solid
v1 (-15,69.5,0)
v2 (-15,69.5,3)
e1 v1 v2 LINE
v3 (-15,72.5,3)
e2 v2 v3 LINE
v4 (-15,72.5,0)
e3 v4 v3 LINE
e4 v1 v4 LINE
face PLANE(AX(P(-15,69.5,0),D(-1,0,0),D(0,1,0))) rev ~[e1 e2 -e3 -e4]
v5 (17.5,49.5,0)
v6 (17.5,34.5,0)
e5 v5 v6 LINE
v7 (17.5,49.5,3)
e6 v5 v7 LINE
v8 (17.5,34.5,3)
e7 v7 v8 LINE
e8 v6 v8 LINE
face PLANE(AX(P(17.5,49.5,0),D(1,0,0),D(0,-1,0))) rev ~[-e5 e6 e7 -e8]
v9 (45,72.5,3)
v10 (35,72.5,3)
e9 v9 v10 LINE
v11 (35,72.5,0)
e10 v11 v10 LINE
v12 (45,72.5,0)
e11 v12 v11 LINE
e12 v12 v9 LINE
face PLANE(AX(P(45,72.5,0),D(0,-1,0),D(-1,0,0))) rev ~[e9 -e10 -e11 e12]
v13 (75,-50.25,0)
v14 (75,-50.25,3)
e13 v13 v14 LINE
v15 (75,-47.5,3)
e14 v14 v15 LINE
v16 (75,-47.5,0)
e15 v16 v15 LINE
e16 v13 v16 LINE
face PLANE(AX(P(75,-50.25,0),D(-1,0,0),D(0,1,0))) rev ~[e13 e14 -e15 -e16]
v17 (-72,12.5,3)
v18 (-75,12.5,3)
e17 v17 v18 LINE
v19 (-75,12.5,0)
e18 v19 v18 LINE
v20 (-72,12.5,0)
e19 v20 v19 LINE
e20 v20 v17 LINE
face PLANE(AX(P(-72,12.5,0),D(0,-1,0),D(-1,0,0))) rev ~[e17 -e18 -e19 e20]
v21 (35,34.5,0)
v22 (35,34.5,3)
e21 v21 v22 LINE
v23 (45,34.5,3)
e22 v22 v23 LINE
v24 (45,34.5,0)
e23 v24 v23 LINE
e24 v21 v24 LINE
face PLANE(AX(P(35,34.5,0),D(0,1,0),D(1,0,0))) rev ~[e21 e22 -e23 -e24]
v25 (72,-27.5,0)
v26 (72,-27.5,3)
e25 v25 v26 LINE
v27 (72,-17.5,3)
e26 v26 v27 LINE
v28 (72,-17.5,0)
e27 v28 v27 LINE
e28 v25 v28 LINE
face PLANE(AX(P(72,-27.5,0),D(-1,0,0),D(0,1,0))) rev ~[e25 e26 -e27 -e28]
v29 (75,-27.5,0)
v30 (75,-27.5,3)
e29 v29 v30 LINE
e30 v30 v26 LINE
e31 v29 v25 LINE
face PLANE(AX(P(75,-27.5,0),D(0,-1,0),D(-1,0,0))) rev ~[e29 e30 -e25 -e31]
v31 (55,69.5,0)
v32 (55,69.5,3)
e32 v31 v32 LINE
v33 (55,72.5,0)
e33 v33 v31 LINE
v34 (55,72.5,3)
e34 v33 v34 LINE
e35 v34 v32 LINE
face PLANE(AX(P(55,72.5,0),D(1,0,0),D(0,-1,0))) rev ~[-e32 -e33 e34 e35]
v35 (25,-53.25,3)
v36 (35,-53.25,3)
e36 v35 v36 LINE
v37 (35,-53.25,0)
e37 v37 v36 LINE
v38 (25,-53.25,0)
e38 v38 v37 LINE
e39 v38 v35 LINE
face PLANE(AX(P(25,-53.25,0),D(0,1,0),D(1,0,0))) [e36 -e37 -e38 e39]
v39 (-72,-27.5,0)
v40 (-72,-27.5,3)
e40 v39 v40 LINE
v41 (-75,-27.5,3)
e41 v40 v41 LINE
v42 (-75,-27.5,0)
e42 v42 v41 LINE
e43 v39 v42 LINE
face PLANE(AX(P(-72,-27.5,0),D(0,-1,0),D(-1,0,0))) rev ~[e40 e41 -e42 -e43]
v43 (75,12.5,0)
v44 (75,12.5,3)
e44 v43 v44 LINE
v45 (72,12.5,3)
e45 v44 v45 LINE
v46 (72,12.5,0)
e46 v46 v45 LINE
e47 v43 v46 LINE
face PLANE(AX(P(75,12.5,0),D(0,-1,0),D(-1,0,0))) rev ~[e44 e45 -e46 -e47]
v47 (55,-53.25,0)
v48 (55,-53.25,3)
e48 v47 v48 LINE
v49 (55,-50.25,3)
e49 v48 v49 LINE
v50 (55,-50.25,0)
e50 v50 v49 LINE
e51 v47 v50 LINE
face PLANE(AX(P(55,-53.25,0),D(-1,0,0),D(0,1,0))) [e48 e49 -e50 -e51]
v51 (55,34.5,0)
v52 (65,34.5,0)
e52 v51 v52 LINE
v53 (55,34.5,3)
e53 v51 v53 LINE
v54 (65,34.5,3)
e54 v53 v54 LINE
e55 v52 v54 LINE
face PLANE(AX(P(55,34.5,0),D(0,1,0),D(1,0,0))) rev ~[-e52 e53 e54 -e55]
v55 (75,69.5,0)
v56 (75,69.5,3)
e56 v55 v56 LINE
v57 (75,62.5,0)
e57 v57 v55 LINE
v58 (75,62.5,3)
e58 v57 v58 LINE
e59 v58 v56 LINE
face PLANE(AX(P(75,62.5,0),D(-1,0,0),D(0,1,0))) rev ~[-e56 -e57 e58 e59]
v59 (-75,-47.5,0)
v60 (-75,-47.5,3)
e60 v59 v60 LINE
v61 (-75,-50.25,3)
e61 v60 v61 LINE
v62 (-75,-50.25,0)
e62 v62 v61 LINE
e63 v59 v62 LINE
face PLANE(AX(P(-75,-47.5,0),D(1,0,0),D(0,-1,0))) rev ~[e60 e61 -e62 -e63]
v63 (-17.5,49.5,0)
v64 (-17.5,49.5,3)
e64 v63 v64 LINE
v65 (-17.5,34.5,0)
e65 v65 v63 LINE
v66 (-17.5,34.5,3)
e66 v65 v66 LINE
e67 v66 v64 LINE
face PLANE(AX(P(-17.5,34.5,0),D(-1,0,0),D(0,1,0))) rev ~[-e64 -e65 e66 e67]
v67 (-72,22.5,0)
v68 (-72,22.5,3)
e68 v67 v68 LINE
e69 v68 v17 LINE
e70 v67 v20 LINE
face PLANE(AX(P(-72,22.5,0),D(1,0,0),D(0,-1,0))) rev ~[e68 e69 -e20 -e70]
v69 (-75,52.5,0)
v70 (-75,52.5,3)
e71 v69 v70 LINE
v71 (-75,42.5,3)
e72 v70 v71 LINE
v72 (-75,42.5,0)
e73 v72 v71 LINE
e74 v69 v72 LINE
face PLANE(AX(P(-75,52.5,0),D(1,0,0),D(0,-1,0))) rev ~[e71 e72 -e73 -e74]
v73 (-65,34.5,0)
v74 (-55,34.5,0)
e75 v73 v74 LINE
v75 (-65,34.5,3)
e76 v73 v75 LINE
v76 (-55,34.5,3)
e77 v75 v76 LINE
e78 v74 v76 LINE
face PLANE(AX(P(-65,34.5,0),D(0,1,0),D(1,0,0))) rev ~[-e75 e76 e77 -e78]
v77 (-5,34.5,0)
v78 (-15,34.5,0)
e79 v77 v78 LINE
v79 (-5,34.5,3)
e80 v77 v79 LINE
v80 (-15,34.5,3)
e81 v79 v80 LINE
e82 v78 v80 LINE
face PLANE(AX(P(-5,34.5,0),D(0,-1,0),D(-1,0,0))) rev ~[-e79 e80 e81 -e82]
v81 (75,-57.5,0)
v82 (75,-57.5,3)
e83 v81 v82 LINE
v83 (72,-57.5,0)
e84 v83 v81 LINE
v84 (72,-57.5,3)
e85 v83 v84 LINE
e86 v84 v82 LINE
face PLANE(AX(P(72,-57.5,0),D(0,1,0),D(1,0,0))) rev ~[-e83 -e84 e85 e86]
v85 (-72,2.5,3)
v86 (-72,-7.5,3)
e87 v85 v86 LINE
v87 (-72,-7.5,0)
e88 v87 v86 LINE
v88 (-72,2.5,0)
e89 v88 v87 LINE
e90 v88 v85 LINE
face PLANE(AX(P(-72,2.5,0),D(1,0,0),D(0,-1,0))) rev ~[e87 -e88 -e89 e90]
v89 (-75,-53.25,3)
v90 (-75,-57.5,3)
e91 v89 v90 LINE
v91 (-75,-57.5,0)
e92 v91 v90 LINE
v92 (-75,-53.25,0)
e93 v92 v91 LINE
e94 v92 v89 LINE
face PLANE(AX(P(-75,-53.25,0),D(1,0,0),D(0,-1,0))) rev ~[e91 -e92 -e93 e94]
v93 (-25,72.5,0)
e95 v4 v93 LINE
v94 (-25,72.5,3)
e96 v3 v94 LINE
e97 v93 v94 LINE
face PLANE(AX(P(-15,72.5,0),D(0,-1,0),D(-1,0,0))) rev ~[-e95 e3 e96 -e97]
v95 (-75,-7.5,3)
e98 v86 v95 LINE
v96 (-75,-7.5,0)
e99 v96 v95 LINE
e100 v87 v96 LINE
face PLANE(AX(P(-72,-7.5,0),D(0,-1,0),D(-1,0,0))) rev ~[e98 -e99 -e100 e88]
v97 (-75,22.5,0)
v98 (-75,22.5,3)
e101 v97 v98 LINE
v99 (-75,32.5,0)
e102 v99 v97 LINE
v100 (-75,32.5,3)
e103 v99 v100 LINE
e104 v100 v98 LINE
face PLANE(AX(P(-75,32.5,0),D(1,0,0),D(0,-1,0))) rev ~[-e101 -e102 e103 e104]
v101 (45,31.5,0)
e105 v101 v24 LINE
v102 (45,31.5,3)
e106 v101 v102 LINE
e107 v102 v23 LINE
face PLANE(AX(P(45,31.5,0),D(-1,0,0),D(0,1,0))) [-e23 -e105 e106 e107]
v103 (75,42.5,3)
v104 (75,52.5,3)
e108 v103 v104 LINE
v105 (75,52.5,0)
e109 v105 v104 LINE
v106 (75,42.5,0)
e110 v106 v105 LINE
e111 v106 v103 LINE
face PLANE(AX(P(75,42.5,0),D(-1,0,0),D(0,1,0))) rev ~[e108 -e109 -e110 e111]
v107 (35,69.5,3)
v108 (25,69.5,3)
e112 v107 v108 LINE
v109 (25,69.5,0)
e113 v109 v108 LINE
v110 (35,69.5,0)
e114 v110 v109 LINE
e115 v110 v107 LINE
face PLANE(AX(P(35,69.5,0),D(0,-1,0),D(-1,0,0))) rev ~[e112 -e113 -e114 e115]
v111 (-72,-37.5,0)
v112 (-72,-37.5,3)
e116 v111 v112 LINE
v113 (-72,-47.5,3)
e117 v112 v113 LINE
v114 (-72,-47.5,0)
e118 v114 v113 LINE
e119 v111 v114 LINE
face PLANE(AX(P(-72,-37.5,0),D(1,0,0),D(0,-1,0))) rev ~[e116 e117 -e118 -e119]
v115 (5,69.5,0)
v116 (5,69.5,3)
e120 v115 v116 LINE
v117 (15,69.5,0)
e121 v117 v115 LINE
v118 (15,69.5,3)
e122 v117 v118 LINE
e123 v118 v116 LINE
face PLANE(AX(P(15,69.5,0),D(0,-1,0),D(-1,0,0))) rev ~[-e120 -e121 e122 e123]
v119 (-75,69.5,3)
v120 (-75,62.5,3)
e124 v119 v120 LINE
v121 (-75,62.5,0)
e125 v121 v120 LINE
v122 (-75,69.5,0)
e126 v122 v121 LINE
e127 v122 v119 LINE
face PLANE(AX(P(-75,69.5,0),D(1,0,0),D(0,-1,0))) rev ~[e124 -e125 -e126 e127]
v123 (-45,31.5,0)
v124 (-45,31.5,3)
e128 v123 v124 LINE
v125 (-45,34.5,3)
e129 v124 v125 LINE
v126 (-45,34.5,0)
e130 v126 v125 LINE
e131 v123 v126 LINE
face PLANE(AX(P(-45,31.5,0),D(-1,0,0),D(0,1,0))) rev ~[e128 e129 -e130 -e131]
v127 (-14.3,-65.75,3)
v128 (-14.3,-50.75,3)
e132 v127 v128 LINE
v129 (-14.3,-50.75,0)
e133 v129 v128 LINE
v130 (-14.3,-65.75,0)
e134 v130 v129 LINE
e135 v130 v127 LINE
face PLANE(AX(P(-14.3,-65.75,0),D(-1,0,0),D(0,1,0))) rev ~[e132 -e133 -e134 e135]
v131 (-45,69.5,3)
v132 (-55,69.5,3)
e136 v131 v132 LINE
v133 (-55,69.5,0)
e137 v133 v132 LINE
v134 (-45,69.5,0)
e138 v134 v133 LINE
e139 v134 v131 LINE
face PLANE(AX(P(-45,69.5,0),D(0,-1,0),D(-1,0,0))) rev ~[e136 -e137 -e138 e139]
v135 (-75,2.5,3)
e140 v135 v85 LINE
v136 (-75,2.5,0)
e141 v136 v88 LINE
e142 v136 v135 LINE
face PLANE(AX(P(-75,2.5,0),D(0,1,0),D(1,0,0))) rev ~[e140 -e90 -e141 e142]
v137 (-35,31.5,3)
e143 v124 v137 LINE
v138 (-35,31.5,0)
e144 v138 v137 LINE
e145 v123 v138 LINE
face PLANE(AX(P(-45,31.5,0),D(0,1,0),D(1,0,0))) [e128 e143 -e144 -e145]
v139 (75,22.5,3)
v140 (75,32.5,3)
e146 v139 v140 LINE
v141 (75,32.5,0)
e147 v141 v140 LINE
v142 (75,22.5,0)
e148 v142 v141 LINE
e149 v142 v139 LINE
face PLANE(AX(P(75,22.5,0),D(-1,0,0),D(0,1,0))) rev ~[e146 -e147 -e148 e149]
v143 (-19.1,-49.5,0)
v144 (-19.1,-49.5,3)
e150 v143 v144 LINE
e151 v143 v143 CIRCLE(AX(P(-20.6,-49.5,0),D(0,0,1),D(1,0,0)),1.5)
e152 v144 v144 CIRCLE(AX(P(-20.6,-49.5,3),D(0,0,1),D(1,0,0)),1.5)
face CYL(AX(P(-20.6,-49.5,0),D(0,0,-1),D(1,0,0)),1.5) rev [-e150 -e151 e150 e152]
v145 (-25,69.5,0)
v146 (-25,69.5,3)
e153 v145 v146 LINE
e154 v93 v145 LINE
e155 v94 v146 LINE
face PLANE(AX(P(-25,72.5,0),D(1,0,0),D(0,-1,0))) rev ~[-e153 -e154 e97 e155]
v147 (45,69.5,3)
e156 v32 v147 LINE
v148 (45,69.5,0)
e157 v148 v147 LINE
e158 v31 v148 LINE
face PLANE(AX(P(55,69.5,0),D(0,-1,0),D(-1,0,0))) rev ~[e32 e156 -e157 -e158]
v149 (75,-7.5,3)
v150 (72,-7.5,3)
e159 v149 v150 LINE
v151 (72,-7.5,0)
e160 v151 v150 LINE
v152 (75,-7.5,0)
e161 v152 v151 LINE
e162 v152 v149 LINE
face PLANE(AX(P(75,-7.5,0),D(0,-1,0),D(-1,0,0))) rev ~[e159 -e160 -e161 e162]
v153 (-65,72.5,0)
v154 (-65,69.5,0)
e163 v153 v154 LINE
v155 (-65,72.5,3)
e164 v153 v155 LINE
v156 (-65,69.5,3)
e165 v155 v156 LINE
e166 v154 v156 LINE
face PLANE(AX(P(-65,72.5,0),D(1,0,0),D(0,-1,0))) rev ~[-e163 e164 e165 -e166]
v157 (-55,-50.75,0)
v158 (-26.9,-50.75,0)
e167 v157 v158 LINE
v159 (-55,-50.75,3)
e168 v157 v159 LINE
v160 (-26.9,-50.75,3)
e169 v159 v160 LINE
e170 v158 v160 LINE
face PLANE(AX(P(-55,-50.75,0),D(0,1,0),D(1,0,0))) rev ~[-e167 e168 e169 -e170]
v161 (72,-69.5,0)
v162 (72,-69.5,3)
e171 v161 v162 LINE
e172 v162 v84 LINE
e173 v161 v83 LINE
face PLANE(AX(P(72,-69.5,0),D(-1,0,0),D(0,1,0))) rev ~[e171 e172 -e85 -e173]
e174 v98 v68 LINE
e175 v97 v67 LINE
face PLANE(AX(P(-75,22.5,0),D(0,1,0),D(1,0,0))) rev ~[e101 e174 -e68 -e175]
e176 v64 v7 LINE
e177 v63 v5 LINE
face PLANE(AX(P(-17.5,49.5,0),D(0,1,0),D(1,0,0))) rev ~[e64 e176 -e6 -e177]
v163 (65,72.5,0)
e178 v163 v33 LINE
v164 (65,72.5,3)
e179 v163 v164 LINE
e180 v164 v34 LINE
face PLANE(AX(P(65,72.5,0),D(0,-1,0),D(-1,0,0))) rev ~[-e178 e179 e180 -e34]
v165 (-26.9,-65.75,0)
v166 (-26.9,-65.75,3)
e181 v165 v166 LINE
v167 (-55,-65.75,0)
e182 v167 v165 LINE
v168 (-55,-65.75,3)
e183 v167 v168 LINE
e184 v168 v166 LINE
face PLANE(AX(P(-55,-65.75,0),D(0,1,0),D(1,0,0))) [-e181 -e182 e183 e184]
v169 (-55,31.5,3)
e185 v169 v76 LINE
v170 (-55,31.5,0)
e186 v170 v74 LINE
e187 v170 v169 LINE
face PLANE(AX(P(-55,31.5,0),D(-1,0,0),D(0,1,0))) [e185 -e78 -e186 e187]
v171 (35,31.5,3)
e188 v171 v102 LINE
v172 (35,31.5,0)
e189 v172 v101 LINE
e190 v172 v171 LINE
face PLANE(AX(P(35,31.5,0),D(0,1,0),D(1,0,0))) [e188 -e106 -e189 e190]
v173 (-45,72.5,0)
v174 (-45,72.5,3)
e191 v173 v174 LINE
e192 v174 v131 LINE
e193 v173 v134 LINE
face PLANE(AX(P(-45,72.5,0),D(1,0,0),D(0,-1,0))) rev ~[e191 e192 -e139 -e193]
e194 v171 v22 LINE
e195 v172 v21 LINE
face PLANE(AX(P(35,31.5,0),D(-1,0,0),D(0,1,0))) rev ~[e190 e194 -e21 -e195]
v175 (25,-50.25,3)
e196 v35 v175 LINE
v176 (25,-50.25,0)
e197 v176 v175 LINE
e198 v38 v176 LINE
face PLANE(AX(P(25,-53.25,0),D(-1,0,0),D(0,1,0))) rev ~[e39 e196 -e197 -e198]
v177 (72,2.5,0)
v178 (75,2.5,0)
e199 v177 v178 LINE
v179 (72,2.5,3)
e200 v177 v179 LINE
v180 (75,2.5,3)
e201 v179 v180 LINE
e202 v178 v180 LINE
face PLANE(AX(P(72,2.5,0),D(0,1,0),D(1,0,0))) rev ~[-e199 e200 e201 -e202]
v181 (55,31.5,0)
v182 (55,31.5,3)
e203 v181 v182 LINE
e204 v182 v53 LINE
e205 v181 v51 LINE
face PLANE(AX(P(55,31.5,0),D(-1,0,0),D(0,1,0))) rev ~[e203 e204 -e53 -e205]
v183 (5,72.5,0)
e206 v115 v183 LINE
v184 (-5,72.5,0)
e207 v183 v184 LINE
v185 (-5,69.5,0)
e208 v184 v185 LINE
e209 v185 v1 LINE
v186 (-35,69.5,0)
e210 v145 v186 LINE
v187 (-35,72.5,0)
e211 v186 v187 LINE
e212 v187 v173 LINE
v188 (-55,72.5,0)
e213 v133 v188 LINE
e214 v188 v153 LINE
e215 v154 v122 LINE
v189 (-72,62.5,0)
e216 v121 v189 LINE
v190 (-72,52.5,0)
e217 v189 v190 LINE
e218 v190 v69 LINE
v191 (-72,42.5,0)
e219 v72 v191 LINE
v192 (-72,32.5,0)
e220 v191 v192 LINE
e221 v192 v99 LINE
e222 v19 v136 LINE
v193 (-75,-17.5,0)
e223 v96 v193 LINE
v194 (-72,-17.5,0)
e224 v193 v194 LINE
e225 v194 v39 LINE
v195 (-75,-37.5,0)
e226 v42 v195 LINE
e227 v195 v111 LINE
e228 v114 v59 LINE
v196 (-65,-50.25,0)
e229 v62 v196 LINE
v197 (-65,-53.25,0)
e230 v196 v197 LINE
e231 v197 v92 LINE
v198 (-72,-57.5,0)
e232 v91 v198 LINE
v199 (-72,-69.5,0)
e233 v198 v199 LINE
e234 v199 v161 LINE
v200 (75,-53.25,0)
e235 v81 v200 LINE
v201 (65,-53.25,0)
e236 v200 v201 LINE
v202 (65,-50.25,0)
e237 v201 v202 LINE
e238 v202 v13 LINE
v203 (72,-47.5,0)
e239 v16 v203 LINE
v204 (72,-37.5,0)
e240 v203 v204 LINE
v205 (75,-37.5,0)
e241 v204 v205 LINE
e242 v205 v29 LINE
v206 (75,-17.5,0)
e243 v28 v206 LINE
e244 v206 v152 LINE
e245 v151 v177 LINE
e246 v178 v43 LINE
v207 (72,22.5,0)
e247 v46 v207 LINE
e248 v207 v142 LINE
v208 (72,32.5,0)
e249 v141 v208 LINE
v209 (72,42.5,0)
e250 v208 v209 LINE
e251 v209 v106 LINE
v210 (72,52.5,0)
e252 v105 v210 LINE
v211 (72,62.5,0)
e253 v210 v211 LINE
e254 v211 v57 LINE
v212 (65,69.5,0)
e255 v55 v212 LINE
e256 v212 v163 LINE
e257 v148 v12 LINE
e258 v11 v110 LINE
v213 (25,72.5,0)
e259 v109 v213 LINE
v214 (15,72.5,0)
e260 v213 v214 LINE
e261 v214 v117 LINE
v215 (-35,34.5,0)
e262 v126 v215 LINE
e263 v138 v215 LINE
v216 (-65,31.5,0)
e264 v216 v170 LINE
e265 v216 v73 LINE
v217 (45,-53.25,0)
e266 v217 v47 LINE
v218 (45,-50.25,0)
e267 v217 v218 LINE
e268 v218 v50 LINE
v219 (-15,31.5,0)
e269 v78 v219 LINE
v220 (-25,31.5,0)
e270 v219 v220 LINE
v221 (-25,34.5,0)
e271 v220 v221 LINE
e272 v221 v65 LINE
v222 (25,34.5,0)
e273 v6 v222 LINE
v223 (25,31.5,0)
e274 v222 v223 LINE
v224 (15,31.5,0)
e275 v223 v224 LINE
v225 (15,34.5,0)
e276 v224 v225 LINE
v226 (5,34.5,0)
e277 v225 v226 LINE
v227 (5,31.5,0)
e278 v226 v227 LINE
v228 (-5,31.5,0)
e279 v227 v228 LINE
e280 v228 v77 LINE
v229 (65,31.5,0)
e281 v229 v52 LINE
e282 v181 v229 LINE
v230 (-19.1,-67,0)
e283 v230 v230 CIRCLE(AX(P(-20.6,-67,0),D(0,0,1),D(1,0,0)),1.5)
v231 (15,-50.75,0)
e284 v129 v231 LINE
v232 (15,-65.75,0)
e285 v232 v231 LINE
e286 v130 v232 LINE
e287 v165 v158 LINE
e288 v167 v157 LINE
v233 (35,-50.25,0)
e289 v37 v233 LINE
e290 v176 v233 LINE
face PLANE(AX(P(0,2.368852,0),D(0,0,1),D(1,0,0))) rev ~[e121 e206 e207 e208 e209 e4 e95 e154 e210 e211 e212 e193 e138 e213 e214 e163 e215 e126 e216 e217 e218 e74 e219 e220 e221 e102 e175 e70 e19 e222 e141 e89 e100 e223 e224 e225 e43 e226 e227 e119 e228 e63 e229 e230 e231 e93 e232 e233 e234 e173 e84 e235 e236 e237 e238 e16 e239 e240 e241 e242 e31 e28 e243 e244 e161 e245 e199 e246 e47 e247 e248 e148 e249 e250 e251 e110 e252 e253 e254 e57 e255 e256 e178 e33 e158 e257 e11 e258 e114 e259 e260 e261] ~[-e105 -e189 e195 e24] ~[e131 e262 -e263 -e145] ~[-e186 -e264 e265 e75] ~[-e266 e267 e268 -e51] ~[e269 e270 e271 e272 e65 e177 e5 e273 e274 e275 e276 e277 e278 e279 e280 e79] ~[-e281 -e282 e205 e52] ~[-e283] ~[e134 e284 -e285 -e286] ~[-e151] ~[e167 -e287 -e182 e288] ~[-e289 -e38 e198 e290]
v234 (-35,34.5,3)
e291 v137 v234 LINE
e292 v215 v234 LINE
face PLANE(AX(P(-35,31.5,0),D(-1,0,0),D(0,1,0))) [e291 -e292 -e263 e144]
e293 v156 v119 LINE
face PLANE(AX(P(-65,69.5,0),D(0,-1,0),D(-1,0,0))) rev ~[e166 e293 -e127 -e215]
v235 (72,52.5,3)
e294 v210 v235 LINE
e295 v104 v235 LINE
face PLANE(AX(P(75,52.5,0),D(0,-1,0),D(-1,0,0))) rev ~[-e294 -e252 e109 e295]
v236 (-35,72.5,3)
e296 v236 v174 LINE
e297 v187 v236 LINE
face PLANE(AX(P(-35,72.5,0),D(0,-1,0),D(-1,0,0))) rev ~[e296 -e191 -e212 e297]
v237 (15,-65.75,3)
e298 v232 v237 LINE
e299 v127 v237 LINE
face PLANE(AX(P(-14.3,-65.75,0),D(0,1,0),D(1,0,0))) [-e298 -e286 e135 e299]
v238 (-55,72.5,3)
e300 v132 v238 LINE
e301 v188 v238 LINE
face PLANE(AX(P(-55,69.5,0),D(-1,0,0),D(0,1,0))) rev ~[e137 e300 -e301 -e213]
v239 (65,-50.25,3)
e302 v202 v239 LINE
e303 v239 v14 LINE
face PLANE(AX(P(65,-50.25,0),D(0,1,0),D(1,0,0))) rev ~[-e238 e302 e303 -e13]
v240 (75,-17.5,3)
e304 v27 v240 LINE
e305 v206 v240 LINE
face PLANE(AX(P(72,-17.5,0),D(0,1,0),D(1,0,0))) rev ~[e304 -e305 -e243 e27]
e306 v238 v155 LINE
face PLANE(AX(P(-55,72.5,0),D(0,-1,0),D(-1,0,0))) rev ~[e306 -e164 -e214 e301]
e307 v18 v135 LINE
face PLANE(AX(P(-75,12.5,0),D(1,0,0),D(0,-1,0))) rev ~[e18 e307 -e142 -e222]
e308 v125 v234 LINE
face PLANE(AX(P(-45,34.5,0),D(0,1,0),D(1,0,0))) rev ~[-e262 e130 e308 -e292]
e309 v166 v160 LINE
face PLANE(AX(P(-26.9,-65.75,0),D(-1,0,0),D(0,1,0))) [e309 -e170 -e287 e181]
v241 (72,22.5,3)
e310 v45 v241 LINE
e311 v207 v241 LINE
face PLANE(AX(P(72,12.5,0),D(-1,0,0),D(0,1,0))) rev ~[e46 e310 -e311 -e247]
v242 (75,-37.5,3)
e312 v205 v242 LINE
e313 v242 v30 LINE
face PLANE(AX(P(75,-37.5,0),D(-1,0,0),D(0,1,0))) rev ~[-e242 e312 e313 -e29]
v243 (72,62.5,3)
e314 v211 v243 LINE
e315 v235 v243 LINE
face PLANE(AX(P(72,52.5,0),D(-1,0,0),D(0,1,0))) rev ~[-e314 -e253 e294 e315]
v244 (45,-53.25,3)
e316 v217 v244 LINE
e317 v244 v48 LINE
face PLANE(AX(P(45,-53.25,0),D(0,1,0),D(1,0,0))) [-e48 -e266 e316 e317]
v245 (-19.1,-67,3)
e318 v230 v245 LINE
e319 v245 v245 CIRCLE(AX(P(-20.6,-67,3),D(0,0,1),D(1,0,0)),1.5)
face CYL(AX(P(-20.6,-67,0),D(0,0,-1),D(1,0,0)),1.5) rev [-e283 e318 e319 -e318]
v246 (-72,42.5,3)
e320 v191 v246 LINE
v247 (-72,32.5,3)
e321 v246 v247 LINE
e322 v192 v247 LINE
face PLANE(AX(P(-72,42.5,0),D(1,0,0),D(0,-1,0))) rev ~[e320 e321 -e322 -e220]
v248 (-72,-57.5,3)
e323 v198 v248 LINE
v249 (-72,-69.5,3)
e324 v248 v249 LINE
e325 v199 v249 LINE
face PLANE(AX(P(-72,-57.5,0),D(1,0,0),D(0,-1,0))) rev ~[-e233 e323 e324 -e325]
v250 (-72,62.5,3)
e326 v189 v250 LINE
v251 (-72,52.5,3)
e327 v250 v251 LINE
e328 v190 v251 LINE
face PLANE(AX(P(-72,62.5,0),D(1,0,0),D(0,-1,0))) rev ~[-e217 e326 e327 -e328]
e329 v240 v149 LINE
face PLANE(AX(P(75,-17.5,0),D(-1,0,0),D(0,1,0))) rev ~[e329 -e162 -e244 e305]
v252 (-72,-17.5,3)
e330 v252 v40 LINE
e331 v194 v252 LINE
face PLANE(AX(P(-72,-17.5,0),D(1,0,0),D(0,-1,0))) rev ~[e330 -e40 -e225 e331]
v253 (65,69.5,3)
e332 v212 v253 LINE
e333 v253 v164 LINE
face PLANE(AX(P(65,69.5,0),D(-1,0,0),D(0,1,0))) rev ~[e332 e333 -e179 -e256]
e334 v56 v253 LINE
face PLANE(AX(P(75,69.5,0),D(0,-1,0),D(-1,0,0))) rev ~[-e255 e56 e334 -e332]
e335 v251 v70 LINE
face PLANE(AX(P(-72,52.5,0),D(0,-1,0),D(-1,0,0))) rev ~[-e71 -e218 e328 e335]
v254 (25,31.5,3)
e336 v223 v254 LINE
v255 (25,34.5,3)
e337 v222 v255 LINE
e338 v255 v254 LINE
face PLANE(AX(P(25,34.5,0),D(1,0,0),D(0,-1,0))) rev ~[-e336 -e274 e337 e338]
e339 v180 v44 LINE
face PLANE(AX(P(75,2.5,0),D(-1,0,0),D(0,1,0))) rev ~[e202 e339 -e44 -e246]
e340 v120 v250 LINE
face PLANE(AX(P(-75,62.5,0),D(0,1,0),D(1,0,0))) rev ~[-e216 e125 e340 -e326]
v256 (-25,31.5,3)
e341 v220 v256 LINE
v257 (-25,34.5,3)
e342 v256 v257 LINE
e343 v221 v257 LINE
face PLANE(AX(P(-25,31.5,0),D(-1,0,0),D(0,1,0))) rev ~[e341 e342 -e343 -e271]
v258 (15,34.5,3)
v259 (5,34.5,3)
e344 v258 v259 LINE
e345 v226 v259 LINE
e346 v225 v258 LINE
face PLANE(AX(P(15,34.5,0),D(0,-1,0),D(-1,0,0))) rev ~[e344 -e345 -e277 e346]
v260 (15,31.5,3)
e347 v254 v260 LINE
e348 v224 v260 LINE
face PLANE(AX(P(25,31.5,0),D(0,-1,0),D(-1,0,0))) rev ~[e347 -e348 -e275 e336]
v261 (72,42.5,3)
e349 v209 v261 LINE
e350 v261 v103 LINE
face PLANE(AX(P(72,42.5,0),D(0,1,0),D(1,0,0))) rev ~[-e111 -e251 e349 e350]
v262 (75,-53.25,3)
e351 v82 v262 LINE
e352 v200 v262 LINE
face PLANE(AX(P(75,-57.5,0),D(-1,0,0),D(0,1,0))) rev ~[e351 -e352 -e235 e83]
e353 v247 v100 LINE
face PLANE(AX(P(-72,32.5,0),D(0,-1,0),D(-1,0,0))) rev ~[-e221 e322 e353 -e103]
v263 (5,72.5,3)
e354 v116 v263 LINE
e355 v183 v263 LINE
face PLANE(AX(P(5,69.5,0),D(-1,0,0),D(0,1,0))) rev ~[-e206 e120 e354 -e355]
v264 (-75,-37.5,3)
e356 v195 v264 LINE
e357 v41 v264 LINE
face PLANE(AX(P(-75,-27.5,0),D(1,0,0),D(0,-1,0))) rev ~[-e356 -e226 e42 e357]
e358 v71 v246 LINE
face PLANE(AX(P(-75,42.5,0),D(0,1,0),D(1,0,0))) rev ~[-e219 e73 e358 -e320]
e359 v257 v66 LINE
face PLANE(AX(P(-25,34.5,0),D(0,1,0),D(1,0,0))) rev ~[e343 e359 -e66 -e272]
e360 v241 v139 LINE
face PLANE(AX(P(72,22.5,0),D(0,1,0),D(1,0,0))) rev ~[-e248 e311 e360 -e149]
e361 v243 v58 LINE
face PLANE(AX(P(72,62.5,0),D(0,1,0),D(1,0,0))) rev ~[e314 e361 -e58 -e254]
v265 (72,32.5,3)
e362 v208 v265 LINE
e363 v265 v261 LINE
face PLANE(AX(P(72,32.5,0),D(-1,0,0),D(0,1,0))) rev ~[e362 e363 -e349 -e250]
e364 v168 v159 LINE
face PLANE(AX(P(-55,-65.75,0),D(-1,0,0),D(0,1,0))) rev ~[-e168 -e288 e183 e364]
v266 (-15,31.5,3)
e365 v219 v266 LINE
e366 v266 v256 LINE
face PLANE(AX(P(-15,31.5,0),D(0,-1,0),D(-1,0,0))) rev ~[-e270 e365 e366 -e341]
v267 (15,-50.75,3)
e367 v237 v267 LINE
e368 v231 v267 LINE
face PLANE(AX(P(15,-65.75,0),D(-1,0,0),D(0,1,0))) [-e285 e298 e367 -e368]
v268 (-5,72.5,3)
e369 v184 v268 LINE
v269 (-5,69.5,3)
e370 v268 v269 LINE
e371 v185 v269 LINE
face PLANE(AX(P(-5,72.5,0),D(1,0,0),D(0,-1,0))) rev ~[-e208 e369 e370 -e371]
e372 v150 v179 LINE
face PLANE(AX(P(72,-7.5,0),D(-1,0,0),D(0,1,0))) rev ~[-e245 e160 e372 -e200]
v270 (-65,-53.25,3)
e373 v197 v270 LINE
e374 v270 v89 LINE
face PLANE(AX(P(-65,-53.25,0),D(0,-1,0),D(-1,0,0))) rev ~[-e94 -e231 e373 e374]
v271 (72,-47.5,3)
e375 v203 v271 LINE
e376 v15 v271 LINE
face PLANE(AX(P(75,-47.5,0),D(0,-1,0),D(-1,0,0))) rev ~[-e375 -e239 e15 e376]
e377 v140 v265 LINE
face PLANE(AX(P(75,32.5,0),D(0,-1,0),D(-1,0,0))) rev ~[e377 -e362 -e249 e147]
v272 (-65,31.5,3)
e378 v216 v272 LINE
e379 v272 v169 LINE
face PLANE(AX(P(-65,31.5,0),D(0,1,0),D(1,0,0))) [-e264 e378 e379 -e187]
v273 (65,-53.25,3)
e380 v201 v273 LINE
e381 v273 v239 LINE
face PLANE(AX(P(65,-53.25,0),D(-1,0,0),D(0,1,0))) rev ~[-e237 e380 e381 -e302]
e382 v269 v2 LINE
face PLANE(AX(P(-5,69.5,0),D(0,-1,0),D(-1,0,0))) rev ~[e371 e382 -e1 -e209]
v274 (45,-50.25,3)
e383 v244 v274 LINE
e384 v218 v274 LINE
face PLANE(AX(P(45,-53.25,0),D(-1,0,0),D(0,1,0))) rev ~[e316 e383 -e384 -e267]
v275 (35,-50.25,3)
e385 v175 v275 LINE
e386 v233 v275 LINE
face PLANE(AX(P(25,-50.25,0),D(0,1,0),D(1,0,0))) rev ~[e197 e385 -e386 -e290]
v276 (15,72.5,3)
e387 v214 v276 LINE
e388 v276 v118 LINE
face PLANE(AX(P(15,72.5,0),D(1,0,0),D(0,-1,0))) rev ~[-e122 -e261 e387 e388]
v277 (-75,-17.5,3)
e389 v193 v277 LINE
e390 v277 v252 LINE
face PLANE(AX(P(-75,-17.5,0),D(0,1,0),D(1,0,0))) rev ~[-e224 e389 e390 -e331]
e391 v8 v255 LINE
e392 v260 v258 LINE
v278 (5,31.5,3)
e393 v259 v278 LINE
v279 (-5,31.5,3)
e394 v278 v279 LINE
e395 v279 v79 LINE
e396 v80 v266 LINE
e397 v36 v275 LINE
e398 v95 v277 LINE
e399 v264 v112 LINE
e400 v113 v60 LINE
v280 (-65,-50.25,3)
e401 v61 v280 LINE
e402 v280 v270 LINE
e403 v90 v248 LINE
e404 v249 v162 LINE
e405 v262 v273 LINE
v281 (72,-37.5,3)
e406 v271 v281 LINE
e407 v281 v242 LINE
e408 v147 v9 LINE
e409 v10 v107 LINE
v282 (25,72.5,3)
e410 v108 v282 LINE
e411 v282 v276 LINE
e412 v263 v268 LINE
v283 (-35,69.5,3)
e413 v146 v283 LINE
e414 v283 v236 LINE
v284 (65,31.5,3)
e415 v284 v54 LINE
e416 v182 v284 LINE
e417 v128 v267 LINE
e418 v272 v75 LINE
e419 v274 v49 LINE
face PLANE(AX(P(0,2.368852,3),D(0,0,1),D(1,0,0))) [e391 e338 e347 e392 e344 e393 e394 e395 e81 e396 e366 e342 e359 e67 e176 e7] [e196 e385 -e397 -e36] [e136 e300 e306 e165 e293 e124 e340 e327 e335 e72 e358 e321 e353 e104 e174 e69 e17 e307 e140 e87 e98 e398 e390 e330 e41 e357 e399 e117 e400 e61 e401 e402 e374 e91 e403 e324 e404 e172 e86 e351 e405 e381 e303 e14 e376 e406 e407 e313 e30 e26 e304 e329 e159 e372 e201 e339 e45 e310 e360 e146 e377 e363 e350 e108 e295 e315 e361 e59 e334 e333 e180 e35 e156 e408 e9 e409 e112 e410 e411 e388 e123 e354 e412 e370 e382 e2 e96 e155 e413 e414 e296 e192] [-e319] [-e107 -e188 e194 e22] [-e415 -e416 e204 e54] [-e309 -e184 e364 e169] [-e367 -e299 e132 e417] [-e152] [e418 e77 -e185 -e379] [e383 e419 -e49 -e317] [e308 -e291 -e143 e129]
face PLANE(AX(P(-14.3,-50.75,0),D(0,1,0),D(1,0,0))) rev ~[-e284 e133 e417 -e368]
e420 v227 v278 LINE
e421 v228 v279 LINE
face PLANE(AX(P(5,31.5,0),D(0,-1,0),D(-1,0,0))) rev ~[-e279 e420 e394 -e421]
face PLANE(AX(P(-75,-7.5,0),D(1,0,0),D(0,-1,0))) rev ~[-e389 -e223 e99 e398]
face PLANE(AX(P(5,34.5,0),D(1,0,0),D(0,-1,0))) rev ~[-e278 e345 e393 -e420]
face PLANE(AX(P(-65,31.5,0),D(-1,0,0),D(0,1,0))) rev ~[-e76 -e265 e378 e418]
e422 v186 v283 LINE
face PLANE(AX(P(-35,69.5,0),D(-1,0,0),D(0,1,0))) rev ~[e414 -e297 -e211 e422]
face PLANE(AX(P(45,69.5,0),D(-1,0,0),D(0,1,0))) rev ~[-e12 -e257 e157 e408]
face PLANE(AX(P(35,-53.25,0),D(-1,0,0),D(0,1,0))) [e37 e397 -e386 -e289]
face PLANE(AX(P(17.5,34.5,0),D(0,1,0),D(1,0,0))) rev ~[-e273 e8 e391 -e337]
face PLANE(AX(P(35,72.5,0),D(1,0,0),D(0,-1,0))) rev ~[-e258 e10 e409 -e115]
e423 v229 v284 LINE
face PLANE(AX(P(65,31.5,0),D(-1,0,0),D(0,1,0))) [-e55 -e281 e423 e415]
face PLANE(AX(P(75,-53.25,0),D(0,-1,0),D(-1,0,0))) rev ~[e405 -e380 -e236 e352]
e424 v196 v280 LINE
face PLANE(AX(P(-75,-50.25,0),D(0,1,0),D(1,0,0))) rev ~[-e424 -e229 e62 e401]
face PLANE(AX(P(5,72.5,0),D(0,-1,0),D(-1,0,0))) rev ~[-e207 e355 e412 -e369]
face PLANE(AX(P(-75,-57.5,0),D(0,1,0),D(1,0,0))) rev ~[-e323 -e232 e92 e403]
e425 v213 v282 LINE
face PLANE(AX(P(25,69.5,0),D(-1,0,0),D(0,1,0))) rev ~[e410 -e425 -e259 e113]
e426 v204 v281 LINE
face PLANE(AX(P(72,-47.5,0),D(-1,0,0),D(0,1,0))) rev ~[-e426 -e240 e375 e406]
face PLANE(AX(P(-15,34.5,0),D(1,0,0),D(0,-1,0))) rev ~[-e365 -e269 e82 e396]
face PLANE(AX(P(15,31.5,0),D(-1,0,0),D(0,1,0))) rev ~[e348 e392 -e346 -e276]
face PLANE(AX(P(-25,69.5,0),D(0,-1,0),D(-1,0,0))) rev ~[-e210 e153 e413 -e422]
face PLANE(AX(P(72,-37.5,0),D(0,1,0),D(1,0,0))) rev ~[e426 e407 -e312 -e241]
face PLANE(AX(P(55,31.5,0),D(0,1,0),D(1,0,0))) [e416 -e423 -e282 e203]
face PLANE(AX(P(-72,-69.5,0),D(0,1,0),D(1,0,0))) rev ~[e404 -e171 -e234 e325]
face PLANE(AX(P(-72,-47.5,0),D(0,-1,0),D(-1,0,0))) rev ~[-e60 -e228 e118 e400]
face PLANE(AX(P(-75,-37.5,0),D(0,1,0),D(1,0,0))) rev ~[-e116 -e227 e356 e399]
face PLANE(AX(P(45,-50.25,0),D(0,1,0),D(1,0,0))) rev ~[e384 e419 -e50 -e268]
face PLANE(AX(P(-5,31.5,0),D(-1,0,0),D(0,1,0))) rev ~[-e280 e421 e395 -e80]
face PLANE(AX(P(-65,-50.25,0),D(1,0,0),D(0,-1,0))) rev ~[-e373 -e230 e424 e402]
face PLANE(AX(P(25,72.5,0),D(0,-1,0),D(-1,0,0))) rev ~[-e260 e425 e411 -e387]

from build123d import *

# Parameters (mm, degrees)
CROQUIS1_W              = 10
CROQUIS1_H              = 3
CROQUIS1_W_2            = 28.1
CROQUIS1_H_2            = 15
CROQUIS1_R              = 1.5
CROQUIS1_W_3            = 29.3
SALIENTE_EXTRUIR3_DEPTH = 3


with BuildPart() as part:
    # Croquis1 → Saliente-Extruir3 (new body)
    with BuildSketch(Plane.XY):
        Polygon((-35, 72.5), (-45, 72.5), (-45, 69.5), (-55, 69.5), (-55, 72.5), (-65, 72.5), (-65, 69.5), (-75, 69.5), (-75, 62.5), (-72, 62.5), (-72, 52.5), (-75, 52.5), (-75, 42.5), (-72, 42.5), (-72, 32.5), (-75, 32.5), (-75, 22.5), (-72, 22.5), (-72, 12.5), (-75, 12.5), (-75, 2.5), (-72, 2.5), (-72, -7.5), (-75, -7.5), (-75, -17.5), (-72, -17.5), (-72, -27.5), (-75, -27.5), (-75, -37.5), (-72, -37.5), (-72, -47.5), (-75, -47.5), (-75, -50.25), (-65, -50.25), (-65, -53.25), (-75, -53.25), (-75, -57.5), (-72, -57.5), (-72, -69.5), (72, -69.5), (72, -57.5), (75, -57.5), (75, -53.25), (65, -53.25), (65, -50.25), (75, -50.25), (75, -47.5), (72, -47.5), (72, -37.5), (75, -37.5), (75, -27.5), (72, -27.5), (72, -17.5), (75, -17.5), (75, -7.5), (72, -7.5), (72, 2.5), (75, 2.5), (75, 12.5), (72, 12.5), (72, 22.5), (75, 22.5), (75, 32.5), (72, 32.5), (72, 42.5), (75, 42.5), (75, 52.5), (72, 52.5), (72, 62.5), (75, 62.5), (75, 69.5), (65, 69.5), (65, 72.5), (55, 72.5), (55, 69.5), (45, 69.5), (45, 72.5), (35, 72.5), (35, 69.5), (25, 69.5), (25, 72.5), (15, 72.5), (15, 69.5), (5, 69.5), (5, 72.5), (-5, 72.5), (-5, 69.5), (-15, 69.5), (-15, 72.5), (-25, 72.5), (-25, 69.5), (-35, 69.5), align=None)
        with Locations((60, 33)):
            Rectangle(CROQUIS1_W, CROQUIS1_H, mode=Mode.SUBTRACT)
        with Locations((-40.95, -58.25)):
            Rectangle(CROQUIS1_W_2, CROQUIS1_H_2, mode=Mode.SUBTRACT)
        with Locations((-20.6, -67)):
            Circle(CROQUIS1_R, mode=Mode.SUBTRACT)
        with Locations((-20.6, -49.5)):
            Circle(CROQUIS1_R, mode=Mode.SUBTRACT)
        with Locations((0.35, -58.25)):
            Rectangle(CROQUIS1_W_3, CROQUIS1_H_2, mode=Mode.SUBTRACT)
        with Locations((30, -51.75)):
            Rectangle(CROQUIS1_W, CROQUIS1_H, mode=Mode.SUBTRACT)
        with Locations((50, -51.75)):
            Rectangle(CROQUIS1_W, CROQUIS1_H, mode=Mode.SUBTRACT)
        with Locations((-60, 33)):
            Rectangle(CROQUIS1_W, CROQUIS1_H, mode=Mode.SUBTRACT)
        with Locations((-40, 33)):
            Rectangle(CROQUIS1_W, CROQUIS1_H, mode=Mode.SUBTRACT)
        Polygon((-25, 31.5), (-25, 34.5), (-17.5, 34.5), (-17.5, 49.5), (17.5, 49.5), (17.5, 34.5), (25, 34.5), (25, 31.5), (15, 31.5), (15, 34.5), (5, 34.5), (5, 31.5), (-5, 31.5), (-5, 34.5), (-15, 34.5), (-15, 31.5), align=None, mode=Mode.SUBTRACT)
        with Locations((40, 33)):
            Rectangle(CROQUIS1_W, CROQUIS1_H, mode=Mode.SUBTRACT)
    extrude(amount=SALIENTE_EXTRUIR3_DEPTH)


solid = part.part
